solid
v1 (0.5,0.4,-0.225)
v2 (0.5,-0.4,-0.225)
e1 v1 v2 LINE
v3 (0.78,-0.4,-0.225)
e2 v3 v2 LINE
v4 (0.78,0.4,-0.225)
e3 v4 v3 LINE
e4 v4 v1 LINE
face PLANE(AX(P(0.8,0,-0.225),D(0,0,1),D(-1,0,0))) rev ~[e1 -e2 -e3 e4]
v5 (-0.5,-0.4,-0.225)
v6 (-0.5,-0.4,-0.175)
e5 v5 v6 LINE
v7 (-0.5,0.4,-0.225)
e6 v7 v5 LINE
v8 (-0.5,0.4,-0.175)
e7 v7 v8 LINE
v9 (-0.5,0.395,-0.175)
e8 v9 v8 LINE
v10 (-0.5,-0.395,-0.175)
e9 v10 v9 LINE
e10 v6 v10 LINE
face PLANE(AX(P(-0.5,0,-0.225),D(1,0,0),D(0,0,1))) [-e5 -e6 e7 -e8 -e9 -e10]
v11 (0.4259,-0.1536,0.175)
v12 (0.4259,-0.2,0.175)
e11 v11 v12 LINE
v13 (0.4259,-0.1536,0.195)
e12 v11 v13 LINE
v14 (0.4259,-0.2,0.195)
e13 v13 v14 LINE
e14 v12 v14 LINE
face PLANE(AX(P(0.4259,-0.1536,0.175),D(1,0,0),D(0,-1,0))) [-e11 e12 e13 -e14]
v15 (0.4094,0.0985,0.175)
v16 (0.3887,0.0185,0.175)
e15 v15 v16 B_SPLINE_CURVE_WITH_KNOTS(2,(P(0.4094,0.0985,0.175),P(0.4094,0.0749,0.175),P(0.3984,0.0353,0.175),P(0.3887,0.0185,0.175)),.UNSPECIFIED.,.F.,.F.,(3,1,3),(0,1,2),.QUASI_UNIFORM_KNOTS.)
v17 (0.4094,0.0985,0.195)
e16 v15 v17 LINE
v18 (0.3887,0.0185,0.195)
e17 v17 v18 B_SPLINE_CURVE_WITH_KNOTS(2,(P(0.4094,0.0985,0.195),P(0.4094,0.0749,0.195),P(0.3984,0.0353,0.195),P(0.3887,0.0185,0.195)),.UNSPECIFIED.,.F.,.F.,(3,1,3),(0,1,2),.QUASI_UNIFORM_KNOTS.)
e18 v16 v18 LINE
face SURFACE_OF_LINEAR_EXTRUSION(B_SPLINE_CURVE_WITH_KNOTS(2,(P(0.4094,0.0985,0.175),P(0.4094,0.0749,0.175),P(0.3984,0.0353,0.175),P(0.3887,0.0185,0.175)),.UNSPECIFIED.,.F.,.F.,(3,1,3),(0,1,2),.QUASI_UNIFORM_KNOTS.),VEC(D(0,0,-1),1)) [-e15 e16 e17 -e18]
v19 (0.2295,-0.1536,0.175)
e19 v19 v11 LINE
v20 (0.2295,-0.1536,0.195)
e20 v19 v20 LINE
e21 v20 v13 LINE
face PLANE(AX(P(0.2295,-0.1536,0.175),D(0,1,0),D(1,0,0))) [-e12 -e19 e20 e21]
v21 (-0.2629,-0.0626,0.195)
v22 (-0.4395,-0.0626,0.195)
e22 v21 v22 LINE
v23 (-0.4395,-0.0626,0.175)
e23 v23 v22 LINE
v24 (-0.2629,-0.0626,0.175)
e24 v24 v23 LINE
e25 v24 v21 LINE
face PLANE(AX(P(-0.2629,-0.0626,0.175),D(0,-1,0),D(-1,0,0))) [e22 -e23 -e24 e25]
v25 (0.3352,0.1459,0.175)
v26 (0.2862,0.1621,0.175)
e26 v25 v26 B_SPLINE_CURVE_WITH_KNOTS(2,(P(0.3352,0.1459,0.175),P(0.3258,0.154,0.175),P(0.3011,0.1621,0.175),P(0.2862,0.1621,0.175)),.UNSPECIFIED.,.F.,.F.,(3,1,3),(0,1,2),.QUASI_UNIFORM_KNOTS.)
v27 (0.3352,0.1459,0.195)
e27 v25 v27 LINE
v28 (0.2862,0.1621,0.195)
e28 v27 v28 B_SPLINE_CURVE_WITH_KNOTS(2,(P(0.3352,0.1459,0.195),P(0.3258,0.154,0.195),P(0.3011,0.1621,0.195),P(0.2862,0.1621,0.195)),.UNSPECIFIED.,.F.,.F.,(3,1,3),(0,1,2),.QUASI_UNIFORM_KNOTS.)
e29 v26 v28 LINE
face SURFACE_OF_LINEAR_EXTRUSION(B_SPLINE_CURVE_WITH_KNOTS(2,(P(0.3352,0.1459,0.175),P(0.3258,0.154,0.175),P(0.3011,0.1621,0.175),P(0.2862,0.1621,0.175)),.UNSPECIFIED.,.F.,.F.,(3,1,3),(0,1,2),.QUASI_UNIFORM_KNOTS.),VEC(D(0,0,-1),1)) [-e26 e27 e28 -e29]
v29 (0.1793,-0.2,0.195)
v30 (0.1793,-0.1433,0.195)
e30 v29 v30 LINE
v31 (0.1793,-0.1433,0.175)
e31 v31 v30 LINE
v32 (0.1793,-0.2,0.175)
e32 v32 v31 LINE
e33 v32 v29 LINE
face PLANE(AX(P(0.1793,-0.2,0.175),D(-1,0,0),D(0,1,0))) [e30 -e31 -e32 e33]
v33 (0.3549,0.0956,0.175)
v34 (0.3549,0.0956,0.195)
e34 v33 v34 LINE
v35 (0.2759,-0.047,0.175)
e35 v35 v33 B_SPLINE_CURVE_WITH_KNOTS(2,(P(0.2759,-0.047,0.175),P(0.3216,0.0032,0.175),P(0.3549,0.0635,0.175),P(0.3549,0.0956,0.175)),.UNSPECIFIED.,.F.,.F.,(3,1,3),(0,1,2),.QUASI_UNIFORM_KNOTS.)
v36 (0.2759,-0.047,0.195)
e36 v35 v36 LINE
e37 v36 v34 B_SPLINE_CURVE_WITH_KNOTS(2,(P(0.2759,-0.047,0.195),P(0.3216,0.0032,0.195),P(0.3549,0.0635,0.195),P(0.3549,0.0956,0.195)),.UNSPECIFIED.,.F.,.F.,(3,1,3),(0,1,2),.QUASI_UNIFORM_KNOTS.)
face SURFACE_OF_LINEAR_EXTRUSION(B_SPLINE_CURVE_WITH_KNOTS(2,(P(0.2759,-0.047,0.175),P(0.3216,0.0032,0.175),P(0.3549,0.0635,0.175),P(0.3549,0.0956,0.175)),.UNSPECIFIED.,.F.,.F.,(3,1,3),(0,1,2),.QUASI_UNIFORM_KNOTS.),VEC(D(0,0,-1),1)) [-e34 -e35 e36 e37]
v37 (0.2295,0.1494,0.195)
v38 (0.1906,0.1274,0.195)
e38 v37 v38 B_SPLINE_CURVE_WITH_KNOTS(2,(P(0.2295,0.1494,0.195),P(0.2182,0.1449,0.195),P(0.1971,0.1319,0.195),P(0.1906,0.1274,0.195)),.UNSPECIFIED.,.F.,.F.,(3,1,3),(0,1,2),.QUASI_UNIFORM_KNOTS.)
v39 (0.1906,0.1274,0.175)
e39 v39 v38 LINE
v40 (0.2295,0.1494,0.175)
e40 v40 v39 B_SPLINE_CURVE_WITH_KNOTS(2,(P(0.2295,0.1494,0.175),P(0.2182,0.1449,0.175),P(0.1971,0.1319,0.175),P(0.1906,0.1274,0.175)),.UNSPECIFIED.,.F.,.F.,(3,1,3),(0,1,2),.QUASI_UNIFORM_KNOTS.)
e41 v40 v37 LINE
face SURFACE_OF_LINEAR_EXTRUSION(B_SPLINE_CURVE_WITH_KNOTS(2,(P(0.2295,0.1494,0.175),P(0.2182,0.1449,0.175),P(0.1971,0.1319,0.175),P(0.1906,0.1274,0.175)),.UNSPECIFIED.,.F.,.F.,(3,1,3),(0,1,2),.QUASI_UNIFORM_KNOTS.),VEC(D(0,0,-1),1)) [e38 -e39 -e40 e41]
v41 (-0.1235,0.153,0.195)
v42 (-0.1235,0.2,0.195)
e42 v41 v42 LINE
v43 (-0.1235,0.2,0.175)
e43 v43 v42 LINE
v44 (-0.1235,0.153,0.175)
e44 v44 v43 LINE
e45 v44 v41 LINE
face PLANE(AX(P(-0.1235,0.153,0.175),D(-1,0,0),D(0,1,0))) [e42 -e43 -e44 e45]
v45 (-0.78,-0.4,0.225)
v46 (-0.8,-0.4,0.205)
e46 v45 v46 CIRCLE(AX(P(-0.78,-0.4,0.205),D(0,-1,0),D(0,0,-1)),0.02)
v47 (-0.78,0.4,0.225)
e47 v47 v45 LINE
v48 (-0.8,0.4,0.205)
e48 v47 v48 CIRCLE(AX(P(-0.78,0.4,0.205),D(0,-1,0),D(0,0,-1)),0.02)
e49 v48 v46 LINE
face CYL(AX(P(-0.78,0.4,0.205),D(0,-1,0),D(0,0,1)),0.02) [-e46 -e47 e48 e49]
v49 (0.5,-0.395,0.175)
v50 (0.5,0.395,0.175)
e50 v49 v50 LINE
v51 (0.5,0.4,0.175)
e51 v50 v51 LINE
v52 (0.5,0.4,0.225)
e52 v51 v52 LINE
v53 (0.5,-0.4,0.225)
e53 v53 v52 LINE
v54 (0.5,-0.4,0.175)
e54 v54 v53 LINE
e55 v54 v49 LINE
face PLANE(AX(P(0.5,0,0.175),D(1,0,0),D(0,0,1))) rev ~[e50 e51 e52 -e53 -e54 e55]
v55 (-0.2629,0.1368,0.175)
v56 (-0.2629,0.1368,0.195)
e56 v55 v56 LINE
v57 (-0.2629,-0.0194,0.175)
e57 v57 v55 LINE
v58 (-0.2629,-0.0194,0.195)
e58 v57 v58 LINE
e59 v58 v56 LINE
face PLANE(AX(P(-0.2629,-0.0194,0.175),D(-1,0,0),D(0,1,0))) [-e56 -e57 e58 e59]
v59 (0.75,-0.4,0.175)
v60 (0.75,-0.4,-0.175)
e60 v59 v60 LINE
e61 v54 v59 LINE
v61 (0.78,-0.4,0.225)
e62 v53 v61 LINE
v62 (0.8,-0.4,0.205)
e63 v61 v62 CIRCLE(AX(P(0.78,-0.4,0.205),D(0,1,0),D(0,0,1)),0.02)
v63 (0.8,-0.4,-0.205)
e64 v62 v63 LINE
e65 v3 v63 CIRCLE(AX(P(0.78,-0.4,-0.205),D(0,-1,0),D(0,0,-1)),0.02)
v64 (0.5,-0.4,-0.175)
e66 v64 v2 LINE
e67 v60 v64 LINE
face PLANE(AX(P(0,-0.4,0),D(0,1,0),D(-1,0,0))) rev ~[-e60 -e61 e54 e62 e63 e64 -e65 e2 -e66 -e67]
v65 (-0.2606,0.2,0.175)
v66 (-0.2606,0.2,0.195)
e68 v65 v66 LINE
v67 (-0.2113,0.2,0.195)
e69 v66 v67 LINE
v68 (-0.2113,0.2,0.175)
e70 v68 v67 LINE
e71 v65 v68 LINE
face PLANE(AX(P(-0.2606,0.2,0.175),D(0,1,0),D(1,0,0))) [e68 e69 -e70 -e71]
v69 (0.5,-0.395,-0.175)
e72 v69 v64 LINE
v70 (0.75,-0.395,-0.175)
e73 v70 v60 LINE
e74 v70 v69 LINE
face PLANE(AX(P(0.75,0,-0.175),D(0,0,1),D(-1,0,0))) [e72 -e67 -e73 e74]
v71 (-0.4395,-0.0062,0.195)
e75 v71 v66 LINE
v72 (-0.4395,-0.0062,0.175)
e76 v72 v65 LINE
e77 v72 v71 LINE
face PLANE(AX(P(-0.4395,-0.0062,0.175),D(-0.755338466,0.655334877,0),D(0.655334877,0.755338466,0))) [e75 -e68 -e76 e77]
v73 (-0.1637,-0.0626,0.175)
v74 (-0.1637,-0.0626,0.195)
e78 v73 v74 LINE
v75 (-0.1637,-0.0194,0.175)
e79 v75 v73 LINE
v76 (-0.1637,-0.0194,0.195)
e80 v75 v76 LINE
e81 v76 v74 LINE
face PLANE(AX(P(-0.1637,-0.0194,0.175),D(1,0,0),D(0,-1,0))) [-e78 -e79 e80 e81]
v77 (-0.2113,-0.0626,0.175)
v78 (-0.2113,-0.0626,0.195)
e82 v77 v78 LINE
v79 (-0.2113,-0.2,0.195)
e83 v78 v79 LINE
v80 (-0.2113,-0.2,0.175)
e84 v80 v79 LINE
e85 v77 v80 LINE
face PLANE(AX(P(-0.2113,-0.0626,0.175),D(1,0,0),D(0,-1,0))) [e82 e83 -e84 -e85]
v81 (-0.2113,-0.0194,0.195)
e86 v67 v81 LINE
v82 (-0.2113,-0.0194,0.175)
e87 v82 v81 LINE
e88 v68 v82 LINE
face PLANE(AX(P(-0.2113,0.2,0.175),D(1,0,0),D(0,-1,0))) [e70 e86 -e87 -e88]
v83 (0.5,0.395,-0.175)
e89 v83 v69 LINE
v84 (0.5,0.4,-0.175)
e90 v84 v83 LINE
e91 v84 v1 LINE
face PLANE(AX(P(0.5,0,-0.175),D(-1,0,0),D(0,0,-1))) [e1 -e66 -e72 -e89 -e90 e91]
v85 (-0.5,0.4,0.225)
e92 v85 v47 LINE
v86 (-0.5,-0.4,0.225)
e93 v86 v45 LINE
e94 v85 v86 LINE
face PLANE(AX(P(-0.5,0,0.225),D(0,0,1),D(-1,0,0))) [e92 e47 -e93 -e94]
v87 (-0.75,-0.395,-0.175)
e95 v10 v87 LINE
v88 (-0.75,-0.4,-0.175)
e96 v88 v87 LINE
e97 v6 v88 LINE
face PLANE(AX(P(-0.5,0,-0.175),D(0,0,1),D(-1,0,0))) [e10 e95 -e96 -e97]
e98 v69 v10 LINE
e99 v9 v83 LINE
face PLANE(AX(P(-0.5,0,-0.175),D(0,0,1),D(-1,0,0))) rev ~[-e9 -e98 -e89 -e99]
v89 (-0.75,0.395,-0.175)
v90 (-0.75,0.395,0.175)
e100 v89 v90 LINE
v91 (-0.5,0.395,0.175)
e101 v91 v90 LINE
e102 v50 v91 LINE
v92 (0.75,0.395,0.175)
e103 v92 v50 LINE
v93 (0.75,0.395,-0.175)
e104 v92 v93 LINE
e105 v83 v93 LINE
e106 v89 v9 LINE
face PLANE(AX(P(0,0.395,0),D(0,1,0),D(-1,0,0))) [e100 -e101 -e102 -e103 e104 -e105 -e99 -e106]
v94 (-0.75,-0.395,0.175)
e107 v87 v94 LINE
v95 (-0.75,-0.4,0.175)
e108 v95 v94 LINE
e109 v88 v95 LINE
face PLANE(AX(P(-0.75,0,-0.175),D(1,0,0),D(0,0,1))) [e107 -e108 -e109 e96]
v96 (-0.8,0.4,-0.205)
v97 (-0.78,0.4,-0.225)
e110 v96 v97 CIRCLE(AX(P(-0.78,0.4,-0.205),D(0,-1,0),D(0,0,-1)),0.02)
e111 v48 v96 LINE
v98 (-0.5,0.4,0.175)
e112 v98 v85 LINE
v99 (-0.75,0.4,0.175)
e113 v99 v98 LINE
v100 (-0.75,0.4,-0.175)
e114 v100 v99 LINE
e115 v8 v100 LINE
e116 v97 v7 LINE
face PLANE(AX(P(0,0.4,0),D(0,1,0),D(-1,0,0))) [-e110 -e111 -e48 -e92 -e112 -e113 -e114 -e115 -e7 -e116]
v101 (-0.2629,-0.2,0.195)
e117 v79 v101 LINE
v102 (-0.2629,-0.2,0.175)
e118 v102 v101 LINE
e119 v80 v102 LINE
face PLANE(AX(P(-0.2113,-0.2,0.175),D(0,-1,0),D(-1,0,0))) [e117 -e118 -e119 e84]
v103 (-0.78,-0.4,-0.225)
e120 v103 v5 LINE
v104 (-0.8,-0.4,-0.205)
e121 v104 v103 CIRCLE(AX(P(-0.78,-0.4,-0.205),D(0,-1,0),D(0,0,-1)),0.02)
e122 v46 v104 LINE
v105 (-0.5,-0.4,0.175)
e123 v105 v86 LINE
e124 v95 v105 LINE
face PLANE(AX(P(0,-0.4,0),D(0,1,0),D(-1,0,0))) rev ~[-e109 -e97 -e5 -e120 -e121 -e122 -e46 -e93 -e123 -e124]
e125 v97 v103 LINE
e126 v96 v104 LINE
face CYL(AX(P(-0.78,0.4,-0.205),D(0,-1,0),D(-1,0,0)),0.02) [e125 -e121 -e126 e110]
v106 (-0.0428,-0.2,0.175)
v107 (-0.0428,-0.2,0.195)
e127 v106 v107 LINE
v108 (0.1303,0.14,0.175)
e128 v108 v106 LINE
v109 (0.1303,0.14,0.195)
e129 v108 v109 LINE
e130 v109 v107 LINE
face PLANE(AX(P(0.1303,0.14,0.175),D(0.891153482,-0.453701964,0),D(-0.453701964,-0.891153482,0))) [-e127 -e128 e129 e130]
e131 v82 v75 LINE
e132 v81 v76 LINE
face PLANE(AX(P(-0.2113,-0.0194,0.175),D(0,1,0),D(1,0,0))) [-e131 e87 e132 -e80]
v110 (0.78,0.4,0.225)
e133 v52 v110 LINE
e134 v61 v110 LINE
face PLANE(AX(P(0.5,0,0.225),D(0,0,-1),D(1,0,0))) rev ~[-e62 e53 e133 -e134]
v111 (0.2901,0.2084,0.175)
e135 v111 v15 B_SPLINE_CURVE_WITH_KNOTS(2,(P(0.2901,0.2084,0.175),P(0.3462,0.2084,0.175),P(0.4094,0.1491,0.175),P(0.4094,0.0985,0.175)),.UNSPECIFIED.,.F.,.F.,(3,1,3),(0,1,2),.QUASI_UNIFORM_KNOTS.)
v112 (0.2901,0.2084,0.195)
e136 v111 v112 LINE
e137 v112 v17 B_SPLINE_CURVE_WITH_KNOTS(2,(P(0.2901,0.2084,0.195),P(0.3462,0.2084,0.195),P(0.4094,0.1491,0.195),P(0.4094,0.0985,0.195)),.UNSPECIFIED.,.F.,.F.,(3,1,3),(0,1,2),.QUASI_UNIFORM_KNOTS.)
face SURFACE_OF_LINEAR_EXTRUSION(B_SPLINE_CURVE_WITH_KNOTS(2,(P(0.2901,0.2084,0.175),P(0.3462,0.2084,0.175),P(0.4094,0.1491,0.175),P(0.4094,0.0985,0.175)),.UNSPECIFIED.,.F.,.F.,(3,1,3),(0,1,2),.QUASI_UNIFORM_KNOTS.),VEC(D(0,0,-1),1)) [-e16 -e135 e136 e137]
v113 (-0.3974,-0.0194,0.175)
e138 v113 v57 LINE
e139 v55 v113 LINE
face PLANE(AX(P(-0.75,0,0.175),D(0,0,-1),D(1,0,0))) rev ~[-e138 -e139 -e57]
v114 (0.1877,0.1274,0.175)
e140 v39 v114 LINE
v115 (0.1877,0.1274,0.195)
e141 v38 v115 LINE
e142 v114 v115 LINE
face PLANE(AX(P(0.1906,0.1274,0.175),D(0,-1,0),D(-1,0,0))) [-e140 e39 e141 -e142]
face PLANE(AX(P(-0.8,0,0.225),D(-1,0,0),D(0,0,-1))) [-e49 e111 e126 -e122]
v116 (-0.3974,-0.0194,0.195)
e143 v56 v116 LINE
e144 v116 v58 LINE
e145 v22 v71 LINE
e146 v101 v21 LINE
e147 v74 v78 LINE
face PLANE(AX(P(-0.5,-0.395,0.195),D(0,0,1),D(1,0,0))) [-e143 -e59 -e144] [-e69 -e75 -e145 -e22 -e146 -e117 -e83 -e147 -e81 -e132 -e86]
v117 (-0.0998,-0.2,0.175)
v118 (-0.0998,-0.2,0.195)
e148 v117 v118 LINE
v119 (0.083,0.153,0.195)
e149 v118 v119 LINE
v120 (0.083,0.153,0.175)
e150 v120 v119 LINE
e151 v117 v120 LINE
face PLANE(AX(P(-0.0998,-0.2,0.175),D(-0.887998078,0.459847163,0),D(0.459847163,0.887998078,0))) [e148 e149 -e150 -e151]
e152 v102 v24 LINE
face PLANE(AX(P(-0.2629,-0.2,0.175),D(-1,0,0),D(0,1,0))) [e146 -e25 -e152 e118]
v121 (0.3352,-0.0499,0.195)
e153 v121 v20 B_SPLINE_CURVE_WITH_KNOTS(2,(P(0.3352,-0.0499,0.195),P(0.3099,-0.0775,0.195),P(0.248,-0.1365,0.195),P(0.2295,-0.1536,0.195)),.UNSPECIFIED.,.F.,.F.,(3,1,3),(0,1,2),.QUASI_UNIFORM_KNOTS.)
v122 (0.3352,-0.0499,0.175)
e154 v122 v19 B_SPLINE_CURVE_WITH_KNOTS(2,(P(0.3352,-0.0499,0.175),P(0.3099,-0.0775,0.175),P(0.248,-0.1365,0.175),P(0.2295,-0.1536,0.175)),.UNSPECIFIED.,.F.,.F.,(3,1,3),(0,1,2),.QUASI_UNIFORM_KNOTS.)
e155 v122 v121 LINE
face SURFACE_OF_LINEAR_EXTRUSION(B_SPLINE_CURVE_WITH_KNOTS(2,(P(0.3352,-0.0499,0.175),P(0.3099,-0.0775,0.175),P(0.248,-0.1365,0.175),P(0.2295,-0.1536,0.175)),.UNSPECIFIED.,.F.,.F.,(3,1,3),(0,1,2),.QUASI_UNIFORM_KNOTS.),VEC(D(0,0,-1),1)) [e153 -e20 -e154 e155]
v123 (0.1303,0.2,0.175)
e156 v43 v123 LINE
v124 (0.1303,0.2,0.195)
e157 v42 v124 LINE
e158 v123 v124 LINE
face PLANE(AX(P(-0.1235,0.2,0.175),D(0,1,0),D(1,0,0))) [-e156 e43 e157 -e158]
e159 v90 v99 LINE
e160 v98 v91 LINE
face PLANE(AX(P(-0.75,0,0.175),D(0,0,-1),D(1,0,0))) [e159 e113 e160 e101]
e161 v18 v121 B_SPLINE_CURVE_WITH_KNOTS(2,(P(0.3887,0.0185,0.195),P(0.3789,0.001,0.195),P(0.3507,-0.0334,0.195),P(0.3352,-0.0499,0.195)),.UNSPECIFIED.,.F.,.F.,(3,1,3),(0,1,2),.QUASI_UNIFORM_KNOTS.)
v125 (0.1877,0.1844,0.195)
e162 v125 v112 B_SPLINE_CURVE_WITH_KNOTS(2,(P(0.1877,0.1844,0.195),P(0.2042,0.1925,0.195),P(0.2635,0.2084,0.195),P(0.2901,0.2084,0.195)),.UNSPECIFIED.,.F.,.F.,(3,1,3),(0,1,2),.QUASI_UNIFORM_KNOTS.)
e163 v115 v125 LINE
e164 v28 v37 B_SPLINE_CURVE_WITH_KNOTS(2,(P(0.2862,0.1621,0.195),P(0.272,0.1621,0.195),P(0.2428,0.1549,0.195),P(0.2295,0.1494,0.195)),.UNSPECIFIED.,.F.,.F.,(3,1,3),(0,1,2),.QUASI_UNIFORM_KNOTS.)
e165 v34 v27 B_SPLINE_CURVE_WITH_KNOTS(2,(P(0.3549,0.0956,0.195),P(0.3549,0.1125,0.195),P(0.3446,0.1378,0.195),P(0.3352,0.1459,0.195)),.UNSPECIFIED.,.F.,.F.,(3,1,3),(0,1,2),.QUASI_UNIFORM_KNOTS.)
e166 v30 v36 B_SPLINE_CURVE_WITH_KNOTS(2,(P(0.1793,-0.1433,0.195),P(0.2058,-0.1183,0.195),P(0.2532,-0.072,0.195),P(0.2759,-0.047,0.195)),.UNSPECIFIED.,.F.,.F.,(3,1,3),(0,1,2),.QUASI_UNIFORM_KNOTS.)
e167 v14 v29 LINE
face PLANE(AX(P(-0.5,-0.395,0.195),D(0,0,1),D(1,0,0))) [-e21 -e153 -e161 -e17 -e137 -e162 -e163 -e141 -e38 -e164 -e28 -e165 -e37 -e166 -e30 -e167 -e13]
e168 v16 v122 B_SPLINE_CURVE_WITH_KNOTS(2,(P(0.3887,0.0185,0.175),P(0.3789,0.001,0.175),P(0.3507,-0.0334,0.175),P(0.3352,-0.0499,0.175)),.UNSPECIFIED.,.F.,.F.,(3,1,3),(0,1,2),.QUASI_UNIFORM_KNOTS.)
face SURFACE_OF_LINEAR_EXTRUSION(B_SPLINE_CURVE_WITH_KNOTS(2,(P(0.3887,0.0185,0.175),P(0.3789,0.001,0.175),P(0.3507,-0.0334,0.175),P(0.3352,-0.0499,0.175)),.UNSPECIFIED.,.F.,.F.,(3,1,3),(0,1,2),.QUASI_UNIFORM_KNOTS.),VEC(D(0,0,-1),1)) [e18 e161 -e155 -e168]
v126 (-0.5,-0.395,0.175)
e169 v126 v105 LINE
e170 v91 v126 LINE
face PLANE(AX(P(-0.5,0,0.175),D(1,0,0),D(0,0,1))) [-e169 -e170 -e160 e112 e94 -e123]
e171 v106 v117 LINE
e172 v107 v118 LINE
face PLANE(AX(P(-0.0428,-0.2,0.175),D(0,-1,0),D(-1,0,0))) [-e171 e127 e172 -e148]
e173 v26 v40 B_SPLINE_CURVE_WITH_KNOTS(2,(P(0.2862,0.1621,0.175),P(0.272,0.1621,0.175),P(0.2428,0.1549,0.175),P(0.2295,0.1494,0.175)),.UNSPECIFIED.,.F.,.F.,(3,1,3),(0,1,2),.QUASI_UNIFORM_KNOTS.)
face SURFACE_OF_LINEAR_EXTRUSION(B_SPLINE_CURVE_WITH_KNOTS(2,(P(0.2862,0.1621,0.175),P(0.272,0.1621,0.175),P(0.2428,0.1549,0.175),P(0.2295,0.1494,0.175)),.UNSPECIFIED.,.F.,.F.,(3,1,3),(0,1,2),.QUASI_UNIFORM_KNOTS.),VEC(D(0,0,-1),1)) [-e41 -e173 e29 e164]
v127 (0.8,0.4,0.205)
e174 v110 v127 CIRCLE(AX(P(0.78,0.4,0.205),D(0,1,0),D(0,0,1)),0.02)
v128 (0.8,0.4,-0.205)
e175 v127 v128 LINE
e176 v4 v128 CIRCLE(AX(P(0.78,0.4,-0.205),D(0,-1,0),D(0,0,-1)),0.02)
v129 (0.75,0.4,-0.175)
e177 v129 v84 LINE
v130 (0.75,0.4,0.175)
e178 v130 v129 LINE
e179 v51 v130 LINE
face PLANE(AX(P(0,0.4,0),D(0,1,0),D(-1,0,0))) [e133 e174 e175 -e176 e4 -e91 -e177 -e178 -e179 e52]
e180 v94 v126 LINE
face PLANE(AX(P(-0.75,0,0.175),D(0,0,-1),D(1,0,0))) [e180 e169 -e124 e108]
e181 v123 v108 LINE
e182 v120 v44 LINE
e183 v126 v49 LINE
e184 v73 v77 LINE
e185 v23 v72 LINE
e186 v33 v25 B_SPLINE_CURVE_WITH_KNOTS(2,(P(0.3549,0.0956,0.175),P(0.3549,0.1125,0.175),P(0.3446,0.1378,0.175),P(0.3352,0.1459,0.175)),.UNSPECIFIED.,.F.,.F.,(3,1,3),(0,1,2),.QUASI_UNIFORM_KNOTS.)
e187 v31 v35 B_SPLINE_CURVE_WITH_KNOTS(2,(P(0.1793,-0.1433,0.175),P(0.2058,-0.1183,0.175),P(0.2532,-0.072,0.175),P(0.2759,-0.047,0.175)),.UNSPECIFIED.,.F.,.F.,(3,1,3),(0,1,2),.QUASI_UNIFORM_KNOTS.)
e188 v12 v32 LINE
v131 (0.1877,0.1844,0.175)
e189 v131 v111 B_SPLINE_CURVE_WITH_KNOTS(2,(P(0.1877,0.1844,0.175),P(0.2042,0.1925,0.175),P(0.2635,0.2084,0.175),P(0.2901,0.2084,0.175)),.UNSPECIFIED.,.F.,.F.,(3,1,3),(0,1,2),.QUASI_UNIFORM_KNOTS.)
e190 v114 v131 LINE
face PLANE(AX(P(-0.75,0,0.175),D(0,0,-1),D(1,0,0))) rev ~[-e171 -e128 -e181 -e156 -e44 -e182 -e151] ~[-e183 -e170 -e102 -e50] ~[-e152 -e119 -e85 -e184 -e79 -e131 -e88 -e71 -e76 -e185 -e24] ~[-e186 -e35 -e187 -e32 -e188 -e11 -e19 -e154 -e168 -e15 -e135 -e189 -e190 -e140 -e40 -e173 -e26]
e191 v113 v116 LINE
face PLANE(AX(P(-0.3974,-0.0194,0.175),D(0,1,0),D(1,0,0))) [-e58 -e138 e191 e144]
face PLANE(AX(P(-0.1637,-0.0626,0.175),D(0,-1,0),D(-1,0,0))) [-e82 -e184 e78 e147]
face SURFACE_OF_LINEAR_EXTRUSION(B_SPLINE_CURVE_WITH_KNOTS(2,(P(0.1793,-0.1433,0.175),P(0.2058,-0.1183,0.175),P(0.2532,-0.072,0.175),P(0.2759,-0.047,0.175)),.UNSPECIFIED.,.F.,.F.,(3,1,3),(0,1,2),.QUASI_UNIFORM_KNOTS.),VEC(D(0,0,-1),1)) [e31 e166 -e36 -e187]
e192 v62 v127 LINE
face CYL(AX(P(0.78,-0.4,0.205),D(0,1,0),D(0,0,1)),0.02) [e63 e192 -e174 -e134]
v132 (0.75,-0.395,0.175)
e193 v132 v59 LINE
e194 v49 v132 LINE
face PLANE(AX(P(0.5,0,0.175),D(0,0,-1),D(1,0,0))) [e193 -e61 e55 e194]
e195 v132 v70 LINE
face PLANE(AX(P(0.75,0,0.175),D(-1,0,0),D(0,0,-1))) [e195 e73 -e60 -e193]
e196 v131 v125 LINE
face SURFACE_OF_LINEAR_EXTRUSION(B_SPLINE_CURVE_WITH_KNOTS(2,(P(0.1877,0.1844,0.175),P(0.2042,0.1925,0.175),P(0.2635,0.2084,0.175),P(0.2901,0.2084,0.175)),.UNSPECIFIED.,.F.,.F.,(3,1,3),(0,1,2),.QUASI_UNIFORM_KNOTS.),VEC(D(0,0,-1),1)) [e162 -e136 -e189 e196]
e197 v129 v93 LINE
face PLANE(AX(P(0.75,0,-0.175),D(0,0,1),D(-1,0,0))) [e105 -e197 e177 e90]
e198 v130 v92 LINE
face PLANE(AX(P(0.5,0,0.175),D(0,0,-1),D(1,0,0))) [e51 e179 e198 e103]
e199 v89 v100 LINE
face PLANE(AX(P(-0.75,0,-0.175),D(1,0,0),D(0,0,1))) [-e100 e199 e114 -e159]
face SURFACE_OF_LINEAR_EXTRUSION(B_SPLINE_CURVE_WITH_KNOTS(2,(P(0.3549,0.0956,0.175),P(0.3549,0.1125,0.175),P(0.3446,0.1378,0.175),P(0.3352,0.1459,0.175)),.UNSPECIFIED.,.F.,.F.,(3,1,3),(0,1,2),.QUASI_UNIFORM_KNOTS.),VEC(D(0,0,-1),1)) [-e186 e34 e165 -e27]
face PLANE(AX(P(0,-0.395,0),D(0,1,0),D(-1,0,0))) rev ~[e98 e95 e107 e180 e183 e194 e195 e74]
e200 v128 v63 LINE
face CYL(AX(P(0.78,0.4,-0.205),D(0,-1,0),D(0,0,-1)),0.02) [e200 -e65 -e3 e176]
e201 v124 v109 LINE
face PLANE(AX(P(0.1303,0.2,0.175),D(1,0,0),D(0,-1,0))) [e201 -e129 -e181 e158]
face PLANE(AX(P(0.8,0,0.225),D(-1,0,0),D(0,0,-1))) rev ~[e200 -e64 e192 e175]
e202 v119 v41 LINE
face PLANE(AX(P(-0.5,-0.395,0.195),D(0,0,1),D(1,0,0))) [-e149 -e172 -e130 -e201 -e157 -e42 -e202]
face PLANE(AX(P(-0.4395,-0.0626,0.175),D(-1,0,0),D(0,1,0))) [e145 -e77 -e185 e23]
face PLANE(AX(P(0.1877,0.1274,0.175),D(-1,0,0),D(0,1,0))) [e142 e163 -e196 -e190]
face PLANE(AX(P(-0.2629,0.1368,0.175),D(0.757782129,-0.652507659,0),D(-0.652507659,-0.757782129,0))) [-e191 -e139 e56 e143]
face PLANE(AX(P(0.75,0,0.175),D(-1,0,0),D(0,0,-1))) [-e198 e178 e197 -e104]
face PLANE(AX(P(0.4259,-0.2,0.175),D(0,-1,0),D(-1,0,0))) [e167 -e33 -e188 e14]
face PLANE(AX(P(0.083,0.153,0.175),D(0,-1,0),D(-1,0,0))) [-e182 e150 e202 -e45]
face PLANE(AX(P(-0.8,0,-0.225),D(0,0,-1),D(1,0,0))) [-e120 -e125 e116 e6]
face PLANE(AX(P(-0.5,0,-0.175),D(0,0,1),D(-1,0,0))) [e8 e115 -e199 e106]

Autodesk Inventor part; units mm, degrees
ref_plane "YZ Plane" through (0, 0, 0) normal (1, 0, 0) x (0, 1, 0)
ref_plane "XZ Plane" through (0, 0, 0) normal (0, 1, 0) x (-1, 0, 0)
ref_plane "XY Plane" through (0, 0, 0) normal (0, 0, 1) x (1, 0, 0)
sketch "Sketch1" plane through (0, 0, 0) normal (0, 1, 0) x (-1, 0, 0)
  line L0 (0.75, 0.175) -> (-0.75, 0.175)
  line L1 (-0.75, 0.175) -> (-0.75, -0.175)
  line L2 (-0.75, -0.175) -> (0.75, -0.175)
  line L3 (0.75, -0.175) -> (0.75, 0.175)
  line L4 (0.5, 0.175) -> (0.5, 0.225)
  line L5 (0.5, 0.225) -> (0.8, 0.225)
  line L6 (0.8, 0.225) -> (0.8, -0.225)
  line L7 (0.8, -0.225) -> (0.5, -0.225)
  line L8 (0.5, -0.225) -> (0.5, -0.175)
  line L9 (-0.5, 0.175) -> (-0.5, 0.225)
  line L10 (-0.5, 0.225) -> (-0.8, 0.225)
  line L11 (-0.8, 0.225) -> (-0.8, -0.225)
  line L12 (-0.8, -0.225) -> (-0.5, -0.225)
  line L13 (-0.5, -0.175) -> (-0.5, -0.225)
  line L14 (0.5, 0.175) -> (-0.5, 0.175)
  point P0 (0, 0)
  point P1 (0, 0.175)
  point P2 (0.75, 0)
  dimension "d0" = 1.6
  dimension "d1" = 0.05
  dimension "d2" = 0.05
  dimension "d3" = 0.45
  dimension "d4" = 0.3
extrude "Extrusion1" add sketch "Sketch1" along normal mid plane 0.8 contours L0 L4 L5 L6 L7 L8 L2 L3 | L0 L1 L2 L13 L12 L11 L10 L9
extrude "Extrusion2" add sketch "Sketch1" along normal mid plane 0.79 contours L3 L2 L1 L0
sketch "Sketch2" plane through (-0.5, -0.395, 0.175) normal (0, 0, 1) x (1, 0, 0)
  line L0 (0, 0) -> (0, 0.79) projected
  line L1 (1, 0) -> (0, 0) projected
  line L2 (1, 0) -> (1, 0.79) projected
  line L3 (0, 0.79) -> (1, 0.79) projected
  line L4 (0, 0.395) -> (1, 0.395) construction
  line L5 (0.3363, 0.3324) -> (0.2887, 0.3324)
  line L6 (0.2887, 0.3324) -> (0.2887, 0.195)
  line L7 (0.2887, 0.195) -> (0.2371, 0.195)
  line L8 (0.2371, 0.195) -> (0.2371, 0.3324)
  line L9 (0.2371, 0.3324) -> (0.0605, 0.3324)
  line L10 (0.0605, 0.3324) -> (0.0605, 0.3888)
  line L11 (0.0605, 0.3888) -> (0.2394, 0.595)
  line L12 (0.2394, 0.595) -> (0.2887, 0.595)
  line L13 (0.2887, 0.595) -> (0.2887, 0.3756)
  line L14 (0.2887, 0.3756) -> (0.3363, 0.3756)
  line L15 (0.3363, 0.3756) -> (0.3363, 0.3324)
  line L16 (0.2371, 0.3756) -> (0.2371, 0.5318)
  line L17 (0.2371, 0.5318) -> (0.1026, 0.3756)
  line L18 (0.1026, 0.3756) -> (0.2371, 0.3756)
  line L19 (0.6303, 0.535) -> (0.4572, 0.195)
  line L20 (0.4572, 0.195) -> (0.4002, 0.195)
  line L21 (0.4002, 0.195) -> (0.583, 0.548)
  line L22 (0.583, 0.548) -> (0.3765, 0.548)
  line L23 (0.3765, 0.548) -> (0.3765, 0.595)
  line L24 (0.3765, 0.595) -> (0.6303, 0.595)
  line L25 (0.6303, 0.595) -> (0.6303, 0.535)
  line L26 (0.9259, 0.195) -> (0.6793, 0.195)
  line L27 (0.6793, 0.195) -> (0.6793, 0.2517)
  spline S0 degree 2 poles (0.6793, 0.2517) (0.7058, 0.2767) (0.7532, 0.323) (0.7759, 0.348) knots 0 0 0 1 2 2 2
  spline S1 degree 2 poles (0.7759, 0.348) (0.8216, 0.3982) (0.8549, 0.4585) (0.8549, 0.4906) knots 0 0 0 1 2 2 2
  spline S2 degree 2 poles (0.8549, 0.4906) (0.8549, 0.5075) (0.8446, 0.5328) (0.8352, 0.5409) knots 0 0 0 1 2 2 2
  spline S3 degree 2 poles (0.8352, 0.5409) (0.8258, 0.549) (0.8011, 0.5571) (0.7862, 0.5571) knots 0 0 0 1 2 2 2
  spline S4 degree 2 poles (0.7862, 0.5571) (0.772, 0.5571) (0.7428, 0.5499) (0.7295, 0.5444) knots 0 0 0 1 2 2 2
  spline S5 degree 2 poles (0.7295, 0.5444) (0.7182, 0.5399) (0.6971, 0.5269) (0.6906, 0.5224) knots 0 0 0 1 2 2 2
  line L28 (0.6906, 0.5224) -> (0.6877, 0.5224)
  line L29 (0.6877, 0.5224) -> (0.6877, 0.5794)
  spline S6 degree 2 poles (0.6877, 0.5794) (0.7042, 0.5875) (0.7635, 0.6034) (0.7901, 0.6034) knots 0 0 0 1 2 2 2
  spline S7 degree 2 poles (0.7901, 0.6034) (0.8462, 0.6034) (0.9094, 0.5441) (0.9094, 0.4935) knots 0 0 0 1 2 2 2
  spline S8 degree 2 poles (0.9094, 0.4935) (0.9094, 0.4699) (0.8984, 0.4303) (0.8887, 0.4135) knots 0 0 0 1 2 2 2
  spline S9 degree 2 poles (0.8887, 0.4135) (0.8789, 0.396) (0.8507, 0.3616) (0.8352, 0.3451) knots 0 0 0 1 2 2 2
  spline S10 degree 2 poles (0.8352, 0.3451) (0.8099, 0.3175) (0.748, 0.2585) (0.7295, 0.2414) knots 0 0 0 1 2 2 2
  line L30 (0.7295, 0.2414) -> (0.9259, 0.2414)
  line L31 (0.9259, 0.2414) -> (0.9259, 0.195)
  point P0 (0.5, 0.395)
extrude "Extrusion3" add sketch "Sketch2" along normal blind 0.02 contours L5 L6 L7 L8 L9 L10 L11 L12 L13 L14 L15 | L19 L20 L21 L22 L23 L24 L25 | L26 L27 S0 S1 S2 S3 S4 S5 L28 L29 S6 S7 S8 S9 S10 L30 L31
fillet "Fillet1" radius 0.02 4 edges at (-0.8, 0, 0.225) (-0.8, 0, -0.225) (0.8, 0, 0.225) (0.8, 0, -0.225)
equation "\"d2\" = d1"
properties part number "21-1001" material "Copper"
